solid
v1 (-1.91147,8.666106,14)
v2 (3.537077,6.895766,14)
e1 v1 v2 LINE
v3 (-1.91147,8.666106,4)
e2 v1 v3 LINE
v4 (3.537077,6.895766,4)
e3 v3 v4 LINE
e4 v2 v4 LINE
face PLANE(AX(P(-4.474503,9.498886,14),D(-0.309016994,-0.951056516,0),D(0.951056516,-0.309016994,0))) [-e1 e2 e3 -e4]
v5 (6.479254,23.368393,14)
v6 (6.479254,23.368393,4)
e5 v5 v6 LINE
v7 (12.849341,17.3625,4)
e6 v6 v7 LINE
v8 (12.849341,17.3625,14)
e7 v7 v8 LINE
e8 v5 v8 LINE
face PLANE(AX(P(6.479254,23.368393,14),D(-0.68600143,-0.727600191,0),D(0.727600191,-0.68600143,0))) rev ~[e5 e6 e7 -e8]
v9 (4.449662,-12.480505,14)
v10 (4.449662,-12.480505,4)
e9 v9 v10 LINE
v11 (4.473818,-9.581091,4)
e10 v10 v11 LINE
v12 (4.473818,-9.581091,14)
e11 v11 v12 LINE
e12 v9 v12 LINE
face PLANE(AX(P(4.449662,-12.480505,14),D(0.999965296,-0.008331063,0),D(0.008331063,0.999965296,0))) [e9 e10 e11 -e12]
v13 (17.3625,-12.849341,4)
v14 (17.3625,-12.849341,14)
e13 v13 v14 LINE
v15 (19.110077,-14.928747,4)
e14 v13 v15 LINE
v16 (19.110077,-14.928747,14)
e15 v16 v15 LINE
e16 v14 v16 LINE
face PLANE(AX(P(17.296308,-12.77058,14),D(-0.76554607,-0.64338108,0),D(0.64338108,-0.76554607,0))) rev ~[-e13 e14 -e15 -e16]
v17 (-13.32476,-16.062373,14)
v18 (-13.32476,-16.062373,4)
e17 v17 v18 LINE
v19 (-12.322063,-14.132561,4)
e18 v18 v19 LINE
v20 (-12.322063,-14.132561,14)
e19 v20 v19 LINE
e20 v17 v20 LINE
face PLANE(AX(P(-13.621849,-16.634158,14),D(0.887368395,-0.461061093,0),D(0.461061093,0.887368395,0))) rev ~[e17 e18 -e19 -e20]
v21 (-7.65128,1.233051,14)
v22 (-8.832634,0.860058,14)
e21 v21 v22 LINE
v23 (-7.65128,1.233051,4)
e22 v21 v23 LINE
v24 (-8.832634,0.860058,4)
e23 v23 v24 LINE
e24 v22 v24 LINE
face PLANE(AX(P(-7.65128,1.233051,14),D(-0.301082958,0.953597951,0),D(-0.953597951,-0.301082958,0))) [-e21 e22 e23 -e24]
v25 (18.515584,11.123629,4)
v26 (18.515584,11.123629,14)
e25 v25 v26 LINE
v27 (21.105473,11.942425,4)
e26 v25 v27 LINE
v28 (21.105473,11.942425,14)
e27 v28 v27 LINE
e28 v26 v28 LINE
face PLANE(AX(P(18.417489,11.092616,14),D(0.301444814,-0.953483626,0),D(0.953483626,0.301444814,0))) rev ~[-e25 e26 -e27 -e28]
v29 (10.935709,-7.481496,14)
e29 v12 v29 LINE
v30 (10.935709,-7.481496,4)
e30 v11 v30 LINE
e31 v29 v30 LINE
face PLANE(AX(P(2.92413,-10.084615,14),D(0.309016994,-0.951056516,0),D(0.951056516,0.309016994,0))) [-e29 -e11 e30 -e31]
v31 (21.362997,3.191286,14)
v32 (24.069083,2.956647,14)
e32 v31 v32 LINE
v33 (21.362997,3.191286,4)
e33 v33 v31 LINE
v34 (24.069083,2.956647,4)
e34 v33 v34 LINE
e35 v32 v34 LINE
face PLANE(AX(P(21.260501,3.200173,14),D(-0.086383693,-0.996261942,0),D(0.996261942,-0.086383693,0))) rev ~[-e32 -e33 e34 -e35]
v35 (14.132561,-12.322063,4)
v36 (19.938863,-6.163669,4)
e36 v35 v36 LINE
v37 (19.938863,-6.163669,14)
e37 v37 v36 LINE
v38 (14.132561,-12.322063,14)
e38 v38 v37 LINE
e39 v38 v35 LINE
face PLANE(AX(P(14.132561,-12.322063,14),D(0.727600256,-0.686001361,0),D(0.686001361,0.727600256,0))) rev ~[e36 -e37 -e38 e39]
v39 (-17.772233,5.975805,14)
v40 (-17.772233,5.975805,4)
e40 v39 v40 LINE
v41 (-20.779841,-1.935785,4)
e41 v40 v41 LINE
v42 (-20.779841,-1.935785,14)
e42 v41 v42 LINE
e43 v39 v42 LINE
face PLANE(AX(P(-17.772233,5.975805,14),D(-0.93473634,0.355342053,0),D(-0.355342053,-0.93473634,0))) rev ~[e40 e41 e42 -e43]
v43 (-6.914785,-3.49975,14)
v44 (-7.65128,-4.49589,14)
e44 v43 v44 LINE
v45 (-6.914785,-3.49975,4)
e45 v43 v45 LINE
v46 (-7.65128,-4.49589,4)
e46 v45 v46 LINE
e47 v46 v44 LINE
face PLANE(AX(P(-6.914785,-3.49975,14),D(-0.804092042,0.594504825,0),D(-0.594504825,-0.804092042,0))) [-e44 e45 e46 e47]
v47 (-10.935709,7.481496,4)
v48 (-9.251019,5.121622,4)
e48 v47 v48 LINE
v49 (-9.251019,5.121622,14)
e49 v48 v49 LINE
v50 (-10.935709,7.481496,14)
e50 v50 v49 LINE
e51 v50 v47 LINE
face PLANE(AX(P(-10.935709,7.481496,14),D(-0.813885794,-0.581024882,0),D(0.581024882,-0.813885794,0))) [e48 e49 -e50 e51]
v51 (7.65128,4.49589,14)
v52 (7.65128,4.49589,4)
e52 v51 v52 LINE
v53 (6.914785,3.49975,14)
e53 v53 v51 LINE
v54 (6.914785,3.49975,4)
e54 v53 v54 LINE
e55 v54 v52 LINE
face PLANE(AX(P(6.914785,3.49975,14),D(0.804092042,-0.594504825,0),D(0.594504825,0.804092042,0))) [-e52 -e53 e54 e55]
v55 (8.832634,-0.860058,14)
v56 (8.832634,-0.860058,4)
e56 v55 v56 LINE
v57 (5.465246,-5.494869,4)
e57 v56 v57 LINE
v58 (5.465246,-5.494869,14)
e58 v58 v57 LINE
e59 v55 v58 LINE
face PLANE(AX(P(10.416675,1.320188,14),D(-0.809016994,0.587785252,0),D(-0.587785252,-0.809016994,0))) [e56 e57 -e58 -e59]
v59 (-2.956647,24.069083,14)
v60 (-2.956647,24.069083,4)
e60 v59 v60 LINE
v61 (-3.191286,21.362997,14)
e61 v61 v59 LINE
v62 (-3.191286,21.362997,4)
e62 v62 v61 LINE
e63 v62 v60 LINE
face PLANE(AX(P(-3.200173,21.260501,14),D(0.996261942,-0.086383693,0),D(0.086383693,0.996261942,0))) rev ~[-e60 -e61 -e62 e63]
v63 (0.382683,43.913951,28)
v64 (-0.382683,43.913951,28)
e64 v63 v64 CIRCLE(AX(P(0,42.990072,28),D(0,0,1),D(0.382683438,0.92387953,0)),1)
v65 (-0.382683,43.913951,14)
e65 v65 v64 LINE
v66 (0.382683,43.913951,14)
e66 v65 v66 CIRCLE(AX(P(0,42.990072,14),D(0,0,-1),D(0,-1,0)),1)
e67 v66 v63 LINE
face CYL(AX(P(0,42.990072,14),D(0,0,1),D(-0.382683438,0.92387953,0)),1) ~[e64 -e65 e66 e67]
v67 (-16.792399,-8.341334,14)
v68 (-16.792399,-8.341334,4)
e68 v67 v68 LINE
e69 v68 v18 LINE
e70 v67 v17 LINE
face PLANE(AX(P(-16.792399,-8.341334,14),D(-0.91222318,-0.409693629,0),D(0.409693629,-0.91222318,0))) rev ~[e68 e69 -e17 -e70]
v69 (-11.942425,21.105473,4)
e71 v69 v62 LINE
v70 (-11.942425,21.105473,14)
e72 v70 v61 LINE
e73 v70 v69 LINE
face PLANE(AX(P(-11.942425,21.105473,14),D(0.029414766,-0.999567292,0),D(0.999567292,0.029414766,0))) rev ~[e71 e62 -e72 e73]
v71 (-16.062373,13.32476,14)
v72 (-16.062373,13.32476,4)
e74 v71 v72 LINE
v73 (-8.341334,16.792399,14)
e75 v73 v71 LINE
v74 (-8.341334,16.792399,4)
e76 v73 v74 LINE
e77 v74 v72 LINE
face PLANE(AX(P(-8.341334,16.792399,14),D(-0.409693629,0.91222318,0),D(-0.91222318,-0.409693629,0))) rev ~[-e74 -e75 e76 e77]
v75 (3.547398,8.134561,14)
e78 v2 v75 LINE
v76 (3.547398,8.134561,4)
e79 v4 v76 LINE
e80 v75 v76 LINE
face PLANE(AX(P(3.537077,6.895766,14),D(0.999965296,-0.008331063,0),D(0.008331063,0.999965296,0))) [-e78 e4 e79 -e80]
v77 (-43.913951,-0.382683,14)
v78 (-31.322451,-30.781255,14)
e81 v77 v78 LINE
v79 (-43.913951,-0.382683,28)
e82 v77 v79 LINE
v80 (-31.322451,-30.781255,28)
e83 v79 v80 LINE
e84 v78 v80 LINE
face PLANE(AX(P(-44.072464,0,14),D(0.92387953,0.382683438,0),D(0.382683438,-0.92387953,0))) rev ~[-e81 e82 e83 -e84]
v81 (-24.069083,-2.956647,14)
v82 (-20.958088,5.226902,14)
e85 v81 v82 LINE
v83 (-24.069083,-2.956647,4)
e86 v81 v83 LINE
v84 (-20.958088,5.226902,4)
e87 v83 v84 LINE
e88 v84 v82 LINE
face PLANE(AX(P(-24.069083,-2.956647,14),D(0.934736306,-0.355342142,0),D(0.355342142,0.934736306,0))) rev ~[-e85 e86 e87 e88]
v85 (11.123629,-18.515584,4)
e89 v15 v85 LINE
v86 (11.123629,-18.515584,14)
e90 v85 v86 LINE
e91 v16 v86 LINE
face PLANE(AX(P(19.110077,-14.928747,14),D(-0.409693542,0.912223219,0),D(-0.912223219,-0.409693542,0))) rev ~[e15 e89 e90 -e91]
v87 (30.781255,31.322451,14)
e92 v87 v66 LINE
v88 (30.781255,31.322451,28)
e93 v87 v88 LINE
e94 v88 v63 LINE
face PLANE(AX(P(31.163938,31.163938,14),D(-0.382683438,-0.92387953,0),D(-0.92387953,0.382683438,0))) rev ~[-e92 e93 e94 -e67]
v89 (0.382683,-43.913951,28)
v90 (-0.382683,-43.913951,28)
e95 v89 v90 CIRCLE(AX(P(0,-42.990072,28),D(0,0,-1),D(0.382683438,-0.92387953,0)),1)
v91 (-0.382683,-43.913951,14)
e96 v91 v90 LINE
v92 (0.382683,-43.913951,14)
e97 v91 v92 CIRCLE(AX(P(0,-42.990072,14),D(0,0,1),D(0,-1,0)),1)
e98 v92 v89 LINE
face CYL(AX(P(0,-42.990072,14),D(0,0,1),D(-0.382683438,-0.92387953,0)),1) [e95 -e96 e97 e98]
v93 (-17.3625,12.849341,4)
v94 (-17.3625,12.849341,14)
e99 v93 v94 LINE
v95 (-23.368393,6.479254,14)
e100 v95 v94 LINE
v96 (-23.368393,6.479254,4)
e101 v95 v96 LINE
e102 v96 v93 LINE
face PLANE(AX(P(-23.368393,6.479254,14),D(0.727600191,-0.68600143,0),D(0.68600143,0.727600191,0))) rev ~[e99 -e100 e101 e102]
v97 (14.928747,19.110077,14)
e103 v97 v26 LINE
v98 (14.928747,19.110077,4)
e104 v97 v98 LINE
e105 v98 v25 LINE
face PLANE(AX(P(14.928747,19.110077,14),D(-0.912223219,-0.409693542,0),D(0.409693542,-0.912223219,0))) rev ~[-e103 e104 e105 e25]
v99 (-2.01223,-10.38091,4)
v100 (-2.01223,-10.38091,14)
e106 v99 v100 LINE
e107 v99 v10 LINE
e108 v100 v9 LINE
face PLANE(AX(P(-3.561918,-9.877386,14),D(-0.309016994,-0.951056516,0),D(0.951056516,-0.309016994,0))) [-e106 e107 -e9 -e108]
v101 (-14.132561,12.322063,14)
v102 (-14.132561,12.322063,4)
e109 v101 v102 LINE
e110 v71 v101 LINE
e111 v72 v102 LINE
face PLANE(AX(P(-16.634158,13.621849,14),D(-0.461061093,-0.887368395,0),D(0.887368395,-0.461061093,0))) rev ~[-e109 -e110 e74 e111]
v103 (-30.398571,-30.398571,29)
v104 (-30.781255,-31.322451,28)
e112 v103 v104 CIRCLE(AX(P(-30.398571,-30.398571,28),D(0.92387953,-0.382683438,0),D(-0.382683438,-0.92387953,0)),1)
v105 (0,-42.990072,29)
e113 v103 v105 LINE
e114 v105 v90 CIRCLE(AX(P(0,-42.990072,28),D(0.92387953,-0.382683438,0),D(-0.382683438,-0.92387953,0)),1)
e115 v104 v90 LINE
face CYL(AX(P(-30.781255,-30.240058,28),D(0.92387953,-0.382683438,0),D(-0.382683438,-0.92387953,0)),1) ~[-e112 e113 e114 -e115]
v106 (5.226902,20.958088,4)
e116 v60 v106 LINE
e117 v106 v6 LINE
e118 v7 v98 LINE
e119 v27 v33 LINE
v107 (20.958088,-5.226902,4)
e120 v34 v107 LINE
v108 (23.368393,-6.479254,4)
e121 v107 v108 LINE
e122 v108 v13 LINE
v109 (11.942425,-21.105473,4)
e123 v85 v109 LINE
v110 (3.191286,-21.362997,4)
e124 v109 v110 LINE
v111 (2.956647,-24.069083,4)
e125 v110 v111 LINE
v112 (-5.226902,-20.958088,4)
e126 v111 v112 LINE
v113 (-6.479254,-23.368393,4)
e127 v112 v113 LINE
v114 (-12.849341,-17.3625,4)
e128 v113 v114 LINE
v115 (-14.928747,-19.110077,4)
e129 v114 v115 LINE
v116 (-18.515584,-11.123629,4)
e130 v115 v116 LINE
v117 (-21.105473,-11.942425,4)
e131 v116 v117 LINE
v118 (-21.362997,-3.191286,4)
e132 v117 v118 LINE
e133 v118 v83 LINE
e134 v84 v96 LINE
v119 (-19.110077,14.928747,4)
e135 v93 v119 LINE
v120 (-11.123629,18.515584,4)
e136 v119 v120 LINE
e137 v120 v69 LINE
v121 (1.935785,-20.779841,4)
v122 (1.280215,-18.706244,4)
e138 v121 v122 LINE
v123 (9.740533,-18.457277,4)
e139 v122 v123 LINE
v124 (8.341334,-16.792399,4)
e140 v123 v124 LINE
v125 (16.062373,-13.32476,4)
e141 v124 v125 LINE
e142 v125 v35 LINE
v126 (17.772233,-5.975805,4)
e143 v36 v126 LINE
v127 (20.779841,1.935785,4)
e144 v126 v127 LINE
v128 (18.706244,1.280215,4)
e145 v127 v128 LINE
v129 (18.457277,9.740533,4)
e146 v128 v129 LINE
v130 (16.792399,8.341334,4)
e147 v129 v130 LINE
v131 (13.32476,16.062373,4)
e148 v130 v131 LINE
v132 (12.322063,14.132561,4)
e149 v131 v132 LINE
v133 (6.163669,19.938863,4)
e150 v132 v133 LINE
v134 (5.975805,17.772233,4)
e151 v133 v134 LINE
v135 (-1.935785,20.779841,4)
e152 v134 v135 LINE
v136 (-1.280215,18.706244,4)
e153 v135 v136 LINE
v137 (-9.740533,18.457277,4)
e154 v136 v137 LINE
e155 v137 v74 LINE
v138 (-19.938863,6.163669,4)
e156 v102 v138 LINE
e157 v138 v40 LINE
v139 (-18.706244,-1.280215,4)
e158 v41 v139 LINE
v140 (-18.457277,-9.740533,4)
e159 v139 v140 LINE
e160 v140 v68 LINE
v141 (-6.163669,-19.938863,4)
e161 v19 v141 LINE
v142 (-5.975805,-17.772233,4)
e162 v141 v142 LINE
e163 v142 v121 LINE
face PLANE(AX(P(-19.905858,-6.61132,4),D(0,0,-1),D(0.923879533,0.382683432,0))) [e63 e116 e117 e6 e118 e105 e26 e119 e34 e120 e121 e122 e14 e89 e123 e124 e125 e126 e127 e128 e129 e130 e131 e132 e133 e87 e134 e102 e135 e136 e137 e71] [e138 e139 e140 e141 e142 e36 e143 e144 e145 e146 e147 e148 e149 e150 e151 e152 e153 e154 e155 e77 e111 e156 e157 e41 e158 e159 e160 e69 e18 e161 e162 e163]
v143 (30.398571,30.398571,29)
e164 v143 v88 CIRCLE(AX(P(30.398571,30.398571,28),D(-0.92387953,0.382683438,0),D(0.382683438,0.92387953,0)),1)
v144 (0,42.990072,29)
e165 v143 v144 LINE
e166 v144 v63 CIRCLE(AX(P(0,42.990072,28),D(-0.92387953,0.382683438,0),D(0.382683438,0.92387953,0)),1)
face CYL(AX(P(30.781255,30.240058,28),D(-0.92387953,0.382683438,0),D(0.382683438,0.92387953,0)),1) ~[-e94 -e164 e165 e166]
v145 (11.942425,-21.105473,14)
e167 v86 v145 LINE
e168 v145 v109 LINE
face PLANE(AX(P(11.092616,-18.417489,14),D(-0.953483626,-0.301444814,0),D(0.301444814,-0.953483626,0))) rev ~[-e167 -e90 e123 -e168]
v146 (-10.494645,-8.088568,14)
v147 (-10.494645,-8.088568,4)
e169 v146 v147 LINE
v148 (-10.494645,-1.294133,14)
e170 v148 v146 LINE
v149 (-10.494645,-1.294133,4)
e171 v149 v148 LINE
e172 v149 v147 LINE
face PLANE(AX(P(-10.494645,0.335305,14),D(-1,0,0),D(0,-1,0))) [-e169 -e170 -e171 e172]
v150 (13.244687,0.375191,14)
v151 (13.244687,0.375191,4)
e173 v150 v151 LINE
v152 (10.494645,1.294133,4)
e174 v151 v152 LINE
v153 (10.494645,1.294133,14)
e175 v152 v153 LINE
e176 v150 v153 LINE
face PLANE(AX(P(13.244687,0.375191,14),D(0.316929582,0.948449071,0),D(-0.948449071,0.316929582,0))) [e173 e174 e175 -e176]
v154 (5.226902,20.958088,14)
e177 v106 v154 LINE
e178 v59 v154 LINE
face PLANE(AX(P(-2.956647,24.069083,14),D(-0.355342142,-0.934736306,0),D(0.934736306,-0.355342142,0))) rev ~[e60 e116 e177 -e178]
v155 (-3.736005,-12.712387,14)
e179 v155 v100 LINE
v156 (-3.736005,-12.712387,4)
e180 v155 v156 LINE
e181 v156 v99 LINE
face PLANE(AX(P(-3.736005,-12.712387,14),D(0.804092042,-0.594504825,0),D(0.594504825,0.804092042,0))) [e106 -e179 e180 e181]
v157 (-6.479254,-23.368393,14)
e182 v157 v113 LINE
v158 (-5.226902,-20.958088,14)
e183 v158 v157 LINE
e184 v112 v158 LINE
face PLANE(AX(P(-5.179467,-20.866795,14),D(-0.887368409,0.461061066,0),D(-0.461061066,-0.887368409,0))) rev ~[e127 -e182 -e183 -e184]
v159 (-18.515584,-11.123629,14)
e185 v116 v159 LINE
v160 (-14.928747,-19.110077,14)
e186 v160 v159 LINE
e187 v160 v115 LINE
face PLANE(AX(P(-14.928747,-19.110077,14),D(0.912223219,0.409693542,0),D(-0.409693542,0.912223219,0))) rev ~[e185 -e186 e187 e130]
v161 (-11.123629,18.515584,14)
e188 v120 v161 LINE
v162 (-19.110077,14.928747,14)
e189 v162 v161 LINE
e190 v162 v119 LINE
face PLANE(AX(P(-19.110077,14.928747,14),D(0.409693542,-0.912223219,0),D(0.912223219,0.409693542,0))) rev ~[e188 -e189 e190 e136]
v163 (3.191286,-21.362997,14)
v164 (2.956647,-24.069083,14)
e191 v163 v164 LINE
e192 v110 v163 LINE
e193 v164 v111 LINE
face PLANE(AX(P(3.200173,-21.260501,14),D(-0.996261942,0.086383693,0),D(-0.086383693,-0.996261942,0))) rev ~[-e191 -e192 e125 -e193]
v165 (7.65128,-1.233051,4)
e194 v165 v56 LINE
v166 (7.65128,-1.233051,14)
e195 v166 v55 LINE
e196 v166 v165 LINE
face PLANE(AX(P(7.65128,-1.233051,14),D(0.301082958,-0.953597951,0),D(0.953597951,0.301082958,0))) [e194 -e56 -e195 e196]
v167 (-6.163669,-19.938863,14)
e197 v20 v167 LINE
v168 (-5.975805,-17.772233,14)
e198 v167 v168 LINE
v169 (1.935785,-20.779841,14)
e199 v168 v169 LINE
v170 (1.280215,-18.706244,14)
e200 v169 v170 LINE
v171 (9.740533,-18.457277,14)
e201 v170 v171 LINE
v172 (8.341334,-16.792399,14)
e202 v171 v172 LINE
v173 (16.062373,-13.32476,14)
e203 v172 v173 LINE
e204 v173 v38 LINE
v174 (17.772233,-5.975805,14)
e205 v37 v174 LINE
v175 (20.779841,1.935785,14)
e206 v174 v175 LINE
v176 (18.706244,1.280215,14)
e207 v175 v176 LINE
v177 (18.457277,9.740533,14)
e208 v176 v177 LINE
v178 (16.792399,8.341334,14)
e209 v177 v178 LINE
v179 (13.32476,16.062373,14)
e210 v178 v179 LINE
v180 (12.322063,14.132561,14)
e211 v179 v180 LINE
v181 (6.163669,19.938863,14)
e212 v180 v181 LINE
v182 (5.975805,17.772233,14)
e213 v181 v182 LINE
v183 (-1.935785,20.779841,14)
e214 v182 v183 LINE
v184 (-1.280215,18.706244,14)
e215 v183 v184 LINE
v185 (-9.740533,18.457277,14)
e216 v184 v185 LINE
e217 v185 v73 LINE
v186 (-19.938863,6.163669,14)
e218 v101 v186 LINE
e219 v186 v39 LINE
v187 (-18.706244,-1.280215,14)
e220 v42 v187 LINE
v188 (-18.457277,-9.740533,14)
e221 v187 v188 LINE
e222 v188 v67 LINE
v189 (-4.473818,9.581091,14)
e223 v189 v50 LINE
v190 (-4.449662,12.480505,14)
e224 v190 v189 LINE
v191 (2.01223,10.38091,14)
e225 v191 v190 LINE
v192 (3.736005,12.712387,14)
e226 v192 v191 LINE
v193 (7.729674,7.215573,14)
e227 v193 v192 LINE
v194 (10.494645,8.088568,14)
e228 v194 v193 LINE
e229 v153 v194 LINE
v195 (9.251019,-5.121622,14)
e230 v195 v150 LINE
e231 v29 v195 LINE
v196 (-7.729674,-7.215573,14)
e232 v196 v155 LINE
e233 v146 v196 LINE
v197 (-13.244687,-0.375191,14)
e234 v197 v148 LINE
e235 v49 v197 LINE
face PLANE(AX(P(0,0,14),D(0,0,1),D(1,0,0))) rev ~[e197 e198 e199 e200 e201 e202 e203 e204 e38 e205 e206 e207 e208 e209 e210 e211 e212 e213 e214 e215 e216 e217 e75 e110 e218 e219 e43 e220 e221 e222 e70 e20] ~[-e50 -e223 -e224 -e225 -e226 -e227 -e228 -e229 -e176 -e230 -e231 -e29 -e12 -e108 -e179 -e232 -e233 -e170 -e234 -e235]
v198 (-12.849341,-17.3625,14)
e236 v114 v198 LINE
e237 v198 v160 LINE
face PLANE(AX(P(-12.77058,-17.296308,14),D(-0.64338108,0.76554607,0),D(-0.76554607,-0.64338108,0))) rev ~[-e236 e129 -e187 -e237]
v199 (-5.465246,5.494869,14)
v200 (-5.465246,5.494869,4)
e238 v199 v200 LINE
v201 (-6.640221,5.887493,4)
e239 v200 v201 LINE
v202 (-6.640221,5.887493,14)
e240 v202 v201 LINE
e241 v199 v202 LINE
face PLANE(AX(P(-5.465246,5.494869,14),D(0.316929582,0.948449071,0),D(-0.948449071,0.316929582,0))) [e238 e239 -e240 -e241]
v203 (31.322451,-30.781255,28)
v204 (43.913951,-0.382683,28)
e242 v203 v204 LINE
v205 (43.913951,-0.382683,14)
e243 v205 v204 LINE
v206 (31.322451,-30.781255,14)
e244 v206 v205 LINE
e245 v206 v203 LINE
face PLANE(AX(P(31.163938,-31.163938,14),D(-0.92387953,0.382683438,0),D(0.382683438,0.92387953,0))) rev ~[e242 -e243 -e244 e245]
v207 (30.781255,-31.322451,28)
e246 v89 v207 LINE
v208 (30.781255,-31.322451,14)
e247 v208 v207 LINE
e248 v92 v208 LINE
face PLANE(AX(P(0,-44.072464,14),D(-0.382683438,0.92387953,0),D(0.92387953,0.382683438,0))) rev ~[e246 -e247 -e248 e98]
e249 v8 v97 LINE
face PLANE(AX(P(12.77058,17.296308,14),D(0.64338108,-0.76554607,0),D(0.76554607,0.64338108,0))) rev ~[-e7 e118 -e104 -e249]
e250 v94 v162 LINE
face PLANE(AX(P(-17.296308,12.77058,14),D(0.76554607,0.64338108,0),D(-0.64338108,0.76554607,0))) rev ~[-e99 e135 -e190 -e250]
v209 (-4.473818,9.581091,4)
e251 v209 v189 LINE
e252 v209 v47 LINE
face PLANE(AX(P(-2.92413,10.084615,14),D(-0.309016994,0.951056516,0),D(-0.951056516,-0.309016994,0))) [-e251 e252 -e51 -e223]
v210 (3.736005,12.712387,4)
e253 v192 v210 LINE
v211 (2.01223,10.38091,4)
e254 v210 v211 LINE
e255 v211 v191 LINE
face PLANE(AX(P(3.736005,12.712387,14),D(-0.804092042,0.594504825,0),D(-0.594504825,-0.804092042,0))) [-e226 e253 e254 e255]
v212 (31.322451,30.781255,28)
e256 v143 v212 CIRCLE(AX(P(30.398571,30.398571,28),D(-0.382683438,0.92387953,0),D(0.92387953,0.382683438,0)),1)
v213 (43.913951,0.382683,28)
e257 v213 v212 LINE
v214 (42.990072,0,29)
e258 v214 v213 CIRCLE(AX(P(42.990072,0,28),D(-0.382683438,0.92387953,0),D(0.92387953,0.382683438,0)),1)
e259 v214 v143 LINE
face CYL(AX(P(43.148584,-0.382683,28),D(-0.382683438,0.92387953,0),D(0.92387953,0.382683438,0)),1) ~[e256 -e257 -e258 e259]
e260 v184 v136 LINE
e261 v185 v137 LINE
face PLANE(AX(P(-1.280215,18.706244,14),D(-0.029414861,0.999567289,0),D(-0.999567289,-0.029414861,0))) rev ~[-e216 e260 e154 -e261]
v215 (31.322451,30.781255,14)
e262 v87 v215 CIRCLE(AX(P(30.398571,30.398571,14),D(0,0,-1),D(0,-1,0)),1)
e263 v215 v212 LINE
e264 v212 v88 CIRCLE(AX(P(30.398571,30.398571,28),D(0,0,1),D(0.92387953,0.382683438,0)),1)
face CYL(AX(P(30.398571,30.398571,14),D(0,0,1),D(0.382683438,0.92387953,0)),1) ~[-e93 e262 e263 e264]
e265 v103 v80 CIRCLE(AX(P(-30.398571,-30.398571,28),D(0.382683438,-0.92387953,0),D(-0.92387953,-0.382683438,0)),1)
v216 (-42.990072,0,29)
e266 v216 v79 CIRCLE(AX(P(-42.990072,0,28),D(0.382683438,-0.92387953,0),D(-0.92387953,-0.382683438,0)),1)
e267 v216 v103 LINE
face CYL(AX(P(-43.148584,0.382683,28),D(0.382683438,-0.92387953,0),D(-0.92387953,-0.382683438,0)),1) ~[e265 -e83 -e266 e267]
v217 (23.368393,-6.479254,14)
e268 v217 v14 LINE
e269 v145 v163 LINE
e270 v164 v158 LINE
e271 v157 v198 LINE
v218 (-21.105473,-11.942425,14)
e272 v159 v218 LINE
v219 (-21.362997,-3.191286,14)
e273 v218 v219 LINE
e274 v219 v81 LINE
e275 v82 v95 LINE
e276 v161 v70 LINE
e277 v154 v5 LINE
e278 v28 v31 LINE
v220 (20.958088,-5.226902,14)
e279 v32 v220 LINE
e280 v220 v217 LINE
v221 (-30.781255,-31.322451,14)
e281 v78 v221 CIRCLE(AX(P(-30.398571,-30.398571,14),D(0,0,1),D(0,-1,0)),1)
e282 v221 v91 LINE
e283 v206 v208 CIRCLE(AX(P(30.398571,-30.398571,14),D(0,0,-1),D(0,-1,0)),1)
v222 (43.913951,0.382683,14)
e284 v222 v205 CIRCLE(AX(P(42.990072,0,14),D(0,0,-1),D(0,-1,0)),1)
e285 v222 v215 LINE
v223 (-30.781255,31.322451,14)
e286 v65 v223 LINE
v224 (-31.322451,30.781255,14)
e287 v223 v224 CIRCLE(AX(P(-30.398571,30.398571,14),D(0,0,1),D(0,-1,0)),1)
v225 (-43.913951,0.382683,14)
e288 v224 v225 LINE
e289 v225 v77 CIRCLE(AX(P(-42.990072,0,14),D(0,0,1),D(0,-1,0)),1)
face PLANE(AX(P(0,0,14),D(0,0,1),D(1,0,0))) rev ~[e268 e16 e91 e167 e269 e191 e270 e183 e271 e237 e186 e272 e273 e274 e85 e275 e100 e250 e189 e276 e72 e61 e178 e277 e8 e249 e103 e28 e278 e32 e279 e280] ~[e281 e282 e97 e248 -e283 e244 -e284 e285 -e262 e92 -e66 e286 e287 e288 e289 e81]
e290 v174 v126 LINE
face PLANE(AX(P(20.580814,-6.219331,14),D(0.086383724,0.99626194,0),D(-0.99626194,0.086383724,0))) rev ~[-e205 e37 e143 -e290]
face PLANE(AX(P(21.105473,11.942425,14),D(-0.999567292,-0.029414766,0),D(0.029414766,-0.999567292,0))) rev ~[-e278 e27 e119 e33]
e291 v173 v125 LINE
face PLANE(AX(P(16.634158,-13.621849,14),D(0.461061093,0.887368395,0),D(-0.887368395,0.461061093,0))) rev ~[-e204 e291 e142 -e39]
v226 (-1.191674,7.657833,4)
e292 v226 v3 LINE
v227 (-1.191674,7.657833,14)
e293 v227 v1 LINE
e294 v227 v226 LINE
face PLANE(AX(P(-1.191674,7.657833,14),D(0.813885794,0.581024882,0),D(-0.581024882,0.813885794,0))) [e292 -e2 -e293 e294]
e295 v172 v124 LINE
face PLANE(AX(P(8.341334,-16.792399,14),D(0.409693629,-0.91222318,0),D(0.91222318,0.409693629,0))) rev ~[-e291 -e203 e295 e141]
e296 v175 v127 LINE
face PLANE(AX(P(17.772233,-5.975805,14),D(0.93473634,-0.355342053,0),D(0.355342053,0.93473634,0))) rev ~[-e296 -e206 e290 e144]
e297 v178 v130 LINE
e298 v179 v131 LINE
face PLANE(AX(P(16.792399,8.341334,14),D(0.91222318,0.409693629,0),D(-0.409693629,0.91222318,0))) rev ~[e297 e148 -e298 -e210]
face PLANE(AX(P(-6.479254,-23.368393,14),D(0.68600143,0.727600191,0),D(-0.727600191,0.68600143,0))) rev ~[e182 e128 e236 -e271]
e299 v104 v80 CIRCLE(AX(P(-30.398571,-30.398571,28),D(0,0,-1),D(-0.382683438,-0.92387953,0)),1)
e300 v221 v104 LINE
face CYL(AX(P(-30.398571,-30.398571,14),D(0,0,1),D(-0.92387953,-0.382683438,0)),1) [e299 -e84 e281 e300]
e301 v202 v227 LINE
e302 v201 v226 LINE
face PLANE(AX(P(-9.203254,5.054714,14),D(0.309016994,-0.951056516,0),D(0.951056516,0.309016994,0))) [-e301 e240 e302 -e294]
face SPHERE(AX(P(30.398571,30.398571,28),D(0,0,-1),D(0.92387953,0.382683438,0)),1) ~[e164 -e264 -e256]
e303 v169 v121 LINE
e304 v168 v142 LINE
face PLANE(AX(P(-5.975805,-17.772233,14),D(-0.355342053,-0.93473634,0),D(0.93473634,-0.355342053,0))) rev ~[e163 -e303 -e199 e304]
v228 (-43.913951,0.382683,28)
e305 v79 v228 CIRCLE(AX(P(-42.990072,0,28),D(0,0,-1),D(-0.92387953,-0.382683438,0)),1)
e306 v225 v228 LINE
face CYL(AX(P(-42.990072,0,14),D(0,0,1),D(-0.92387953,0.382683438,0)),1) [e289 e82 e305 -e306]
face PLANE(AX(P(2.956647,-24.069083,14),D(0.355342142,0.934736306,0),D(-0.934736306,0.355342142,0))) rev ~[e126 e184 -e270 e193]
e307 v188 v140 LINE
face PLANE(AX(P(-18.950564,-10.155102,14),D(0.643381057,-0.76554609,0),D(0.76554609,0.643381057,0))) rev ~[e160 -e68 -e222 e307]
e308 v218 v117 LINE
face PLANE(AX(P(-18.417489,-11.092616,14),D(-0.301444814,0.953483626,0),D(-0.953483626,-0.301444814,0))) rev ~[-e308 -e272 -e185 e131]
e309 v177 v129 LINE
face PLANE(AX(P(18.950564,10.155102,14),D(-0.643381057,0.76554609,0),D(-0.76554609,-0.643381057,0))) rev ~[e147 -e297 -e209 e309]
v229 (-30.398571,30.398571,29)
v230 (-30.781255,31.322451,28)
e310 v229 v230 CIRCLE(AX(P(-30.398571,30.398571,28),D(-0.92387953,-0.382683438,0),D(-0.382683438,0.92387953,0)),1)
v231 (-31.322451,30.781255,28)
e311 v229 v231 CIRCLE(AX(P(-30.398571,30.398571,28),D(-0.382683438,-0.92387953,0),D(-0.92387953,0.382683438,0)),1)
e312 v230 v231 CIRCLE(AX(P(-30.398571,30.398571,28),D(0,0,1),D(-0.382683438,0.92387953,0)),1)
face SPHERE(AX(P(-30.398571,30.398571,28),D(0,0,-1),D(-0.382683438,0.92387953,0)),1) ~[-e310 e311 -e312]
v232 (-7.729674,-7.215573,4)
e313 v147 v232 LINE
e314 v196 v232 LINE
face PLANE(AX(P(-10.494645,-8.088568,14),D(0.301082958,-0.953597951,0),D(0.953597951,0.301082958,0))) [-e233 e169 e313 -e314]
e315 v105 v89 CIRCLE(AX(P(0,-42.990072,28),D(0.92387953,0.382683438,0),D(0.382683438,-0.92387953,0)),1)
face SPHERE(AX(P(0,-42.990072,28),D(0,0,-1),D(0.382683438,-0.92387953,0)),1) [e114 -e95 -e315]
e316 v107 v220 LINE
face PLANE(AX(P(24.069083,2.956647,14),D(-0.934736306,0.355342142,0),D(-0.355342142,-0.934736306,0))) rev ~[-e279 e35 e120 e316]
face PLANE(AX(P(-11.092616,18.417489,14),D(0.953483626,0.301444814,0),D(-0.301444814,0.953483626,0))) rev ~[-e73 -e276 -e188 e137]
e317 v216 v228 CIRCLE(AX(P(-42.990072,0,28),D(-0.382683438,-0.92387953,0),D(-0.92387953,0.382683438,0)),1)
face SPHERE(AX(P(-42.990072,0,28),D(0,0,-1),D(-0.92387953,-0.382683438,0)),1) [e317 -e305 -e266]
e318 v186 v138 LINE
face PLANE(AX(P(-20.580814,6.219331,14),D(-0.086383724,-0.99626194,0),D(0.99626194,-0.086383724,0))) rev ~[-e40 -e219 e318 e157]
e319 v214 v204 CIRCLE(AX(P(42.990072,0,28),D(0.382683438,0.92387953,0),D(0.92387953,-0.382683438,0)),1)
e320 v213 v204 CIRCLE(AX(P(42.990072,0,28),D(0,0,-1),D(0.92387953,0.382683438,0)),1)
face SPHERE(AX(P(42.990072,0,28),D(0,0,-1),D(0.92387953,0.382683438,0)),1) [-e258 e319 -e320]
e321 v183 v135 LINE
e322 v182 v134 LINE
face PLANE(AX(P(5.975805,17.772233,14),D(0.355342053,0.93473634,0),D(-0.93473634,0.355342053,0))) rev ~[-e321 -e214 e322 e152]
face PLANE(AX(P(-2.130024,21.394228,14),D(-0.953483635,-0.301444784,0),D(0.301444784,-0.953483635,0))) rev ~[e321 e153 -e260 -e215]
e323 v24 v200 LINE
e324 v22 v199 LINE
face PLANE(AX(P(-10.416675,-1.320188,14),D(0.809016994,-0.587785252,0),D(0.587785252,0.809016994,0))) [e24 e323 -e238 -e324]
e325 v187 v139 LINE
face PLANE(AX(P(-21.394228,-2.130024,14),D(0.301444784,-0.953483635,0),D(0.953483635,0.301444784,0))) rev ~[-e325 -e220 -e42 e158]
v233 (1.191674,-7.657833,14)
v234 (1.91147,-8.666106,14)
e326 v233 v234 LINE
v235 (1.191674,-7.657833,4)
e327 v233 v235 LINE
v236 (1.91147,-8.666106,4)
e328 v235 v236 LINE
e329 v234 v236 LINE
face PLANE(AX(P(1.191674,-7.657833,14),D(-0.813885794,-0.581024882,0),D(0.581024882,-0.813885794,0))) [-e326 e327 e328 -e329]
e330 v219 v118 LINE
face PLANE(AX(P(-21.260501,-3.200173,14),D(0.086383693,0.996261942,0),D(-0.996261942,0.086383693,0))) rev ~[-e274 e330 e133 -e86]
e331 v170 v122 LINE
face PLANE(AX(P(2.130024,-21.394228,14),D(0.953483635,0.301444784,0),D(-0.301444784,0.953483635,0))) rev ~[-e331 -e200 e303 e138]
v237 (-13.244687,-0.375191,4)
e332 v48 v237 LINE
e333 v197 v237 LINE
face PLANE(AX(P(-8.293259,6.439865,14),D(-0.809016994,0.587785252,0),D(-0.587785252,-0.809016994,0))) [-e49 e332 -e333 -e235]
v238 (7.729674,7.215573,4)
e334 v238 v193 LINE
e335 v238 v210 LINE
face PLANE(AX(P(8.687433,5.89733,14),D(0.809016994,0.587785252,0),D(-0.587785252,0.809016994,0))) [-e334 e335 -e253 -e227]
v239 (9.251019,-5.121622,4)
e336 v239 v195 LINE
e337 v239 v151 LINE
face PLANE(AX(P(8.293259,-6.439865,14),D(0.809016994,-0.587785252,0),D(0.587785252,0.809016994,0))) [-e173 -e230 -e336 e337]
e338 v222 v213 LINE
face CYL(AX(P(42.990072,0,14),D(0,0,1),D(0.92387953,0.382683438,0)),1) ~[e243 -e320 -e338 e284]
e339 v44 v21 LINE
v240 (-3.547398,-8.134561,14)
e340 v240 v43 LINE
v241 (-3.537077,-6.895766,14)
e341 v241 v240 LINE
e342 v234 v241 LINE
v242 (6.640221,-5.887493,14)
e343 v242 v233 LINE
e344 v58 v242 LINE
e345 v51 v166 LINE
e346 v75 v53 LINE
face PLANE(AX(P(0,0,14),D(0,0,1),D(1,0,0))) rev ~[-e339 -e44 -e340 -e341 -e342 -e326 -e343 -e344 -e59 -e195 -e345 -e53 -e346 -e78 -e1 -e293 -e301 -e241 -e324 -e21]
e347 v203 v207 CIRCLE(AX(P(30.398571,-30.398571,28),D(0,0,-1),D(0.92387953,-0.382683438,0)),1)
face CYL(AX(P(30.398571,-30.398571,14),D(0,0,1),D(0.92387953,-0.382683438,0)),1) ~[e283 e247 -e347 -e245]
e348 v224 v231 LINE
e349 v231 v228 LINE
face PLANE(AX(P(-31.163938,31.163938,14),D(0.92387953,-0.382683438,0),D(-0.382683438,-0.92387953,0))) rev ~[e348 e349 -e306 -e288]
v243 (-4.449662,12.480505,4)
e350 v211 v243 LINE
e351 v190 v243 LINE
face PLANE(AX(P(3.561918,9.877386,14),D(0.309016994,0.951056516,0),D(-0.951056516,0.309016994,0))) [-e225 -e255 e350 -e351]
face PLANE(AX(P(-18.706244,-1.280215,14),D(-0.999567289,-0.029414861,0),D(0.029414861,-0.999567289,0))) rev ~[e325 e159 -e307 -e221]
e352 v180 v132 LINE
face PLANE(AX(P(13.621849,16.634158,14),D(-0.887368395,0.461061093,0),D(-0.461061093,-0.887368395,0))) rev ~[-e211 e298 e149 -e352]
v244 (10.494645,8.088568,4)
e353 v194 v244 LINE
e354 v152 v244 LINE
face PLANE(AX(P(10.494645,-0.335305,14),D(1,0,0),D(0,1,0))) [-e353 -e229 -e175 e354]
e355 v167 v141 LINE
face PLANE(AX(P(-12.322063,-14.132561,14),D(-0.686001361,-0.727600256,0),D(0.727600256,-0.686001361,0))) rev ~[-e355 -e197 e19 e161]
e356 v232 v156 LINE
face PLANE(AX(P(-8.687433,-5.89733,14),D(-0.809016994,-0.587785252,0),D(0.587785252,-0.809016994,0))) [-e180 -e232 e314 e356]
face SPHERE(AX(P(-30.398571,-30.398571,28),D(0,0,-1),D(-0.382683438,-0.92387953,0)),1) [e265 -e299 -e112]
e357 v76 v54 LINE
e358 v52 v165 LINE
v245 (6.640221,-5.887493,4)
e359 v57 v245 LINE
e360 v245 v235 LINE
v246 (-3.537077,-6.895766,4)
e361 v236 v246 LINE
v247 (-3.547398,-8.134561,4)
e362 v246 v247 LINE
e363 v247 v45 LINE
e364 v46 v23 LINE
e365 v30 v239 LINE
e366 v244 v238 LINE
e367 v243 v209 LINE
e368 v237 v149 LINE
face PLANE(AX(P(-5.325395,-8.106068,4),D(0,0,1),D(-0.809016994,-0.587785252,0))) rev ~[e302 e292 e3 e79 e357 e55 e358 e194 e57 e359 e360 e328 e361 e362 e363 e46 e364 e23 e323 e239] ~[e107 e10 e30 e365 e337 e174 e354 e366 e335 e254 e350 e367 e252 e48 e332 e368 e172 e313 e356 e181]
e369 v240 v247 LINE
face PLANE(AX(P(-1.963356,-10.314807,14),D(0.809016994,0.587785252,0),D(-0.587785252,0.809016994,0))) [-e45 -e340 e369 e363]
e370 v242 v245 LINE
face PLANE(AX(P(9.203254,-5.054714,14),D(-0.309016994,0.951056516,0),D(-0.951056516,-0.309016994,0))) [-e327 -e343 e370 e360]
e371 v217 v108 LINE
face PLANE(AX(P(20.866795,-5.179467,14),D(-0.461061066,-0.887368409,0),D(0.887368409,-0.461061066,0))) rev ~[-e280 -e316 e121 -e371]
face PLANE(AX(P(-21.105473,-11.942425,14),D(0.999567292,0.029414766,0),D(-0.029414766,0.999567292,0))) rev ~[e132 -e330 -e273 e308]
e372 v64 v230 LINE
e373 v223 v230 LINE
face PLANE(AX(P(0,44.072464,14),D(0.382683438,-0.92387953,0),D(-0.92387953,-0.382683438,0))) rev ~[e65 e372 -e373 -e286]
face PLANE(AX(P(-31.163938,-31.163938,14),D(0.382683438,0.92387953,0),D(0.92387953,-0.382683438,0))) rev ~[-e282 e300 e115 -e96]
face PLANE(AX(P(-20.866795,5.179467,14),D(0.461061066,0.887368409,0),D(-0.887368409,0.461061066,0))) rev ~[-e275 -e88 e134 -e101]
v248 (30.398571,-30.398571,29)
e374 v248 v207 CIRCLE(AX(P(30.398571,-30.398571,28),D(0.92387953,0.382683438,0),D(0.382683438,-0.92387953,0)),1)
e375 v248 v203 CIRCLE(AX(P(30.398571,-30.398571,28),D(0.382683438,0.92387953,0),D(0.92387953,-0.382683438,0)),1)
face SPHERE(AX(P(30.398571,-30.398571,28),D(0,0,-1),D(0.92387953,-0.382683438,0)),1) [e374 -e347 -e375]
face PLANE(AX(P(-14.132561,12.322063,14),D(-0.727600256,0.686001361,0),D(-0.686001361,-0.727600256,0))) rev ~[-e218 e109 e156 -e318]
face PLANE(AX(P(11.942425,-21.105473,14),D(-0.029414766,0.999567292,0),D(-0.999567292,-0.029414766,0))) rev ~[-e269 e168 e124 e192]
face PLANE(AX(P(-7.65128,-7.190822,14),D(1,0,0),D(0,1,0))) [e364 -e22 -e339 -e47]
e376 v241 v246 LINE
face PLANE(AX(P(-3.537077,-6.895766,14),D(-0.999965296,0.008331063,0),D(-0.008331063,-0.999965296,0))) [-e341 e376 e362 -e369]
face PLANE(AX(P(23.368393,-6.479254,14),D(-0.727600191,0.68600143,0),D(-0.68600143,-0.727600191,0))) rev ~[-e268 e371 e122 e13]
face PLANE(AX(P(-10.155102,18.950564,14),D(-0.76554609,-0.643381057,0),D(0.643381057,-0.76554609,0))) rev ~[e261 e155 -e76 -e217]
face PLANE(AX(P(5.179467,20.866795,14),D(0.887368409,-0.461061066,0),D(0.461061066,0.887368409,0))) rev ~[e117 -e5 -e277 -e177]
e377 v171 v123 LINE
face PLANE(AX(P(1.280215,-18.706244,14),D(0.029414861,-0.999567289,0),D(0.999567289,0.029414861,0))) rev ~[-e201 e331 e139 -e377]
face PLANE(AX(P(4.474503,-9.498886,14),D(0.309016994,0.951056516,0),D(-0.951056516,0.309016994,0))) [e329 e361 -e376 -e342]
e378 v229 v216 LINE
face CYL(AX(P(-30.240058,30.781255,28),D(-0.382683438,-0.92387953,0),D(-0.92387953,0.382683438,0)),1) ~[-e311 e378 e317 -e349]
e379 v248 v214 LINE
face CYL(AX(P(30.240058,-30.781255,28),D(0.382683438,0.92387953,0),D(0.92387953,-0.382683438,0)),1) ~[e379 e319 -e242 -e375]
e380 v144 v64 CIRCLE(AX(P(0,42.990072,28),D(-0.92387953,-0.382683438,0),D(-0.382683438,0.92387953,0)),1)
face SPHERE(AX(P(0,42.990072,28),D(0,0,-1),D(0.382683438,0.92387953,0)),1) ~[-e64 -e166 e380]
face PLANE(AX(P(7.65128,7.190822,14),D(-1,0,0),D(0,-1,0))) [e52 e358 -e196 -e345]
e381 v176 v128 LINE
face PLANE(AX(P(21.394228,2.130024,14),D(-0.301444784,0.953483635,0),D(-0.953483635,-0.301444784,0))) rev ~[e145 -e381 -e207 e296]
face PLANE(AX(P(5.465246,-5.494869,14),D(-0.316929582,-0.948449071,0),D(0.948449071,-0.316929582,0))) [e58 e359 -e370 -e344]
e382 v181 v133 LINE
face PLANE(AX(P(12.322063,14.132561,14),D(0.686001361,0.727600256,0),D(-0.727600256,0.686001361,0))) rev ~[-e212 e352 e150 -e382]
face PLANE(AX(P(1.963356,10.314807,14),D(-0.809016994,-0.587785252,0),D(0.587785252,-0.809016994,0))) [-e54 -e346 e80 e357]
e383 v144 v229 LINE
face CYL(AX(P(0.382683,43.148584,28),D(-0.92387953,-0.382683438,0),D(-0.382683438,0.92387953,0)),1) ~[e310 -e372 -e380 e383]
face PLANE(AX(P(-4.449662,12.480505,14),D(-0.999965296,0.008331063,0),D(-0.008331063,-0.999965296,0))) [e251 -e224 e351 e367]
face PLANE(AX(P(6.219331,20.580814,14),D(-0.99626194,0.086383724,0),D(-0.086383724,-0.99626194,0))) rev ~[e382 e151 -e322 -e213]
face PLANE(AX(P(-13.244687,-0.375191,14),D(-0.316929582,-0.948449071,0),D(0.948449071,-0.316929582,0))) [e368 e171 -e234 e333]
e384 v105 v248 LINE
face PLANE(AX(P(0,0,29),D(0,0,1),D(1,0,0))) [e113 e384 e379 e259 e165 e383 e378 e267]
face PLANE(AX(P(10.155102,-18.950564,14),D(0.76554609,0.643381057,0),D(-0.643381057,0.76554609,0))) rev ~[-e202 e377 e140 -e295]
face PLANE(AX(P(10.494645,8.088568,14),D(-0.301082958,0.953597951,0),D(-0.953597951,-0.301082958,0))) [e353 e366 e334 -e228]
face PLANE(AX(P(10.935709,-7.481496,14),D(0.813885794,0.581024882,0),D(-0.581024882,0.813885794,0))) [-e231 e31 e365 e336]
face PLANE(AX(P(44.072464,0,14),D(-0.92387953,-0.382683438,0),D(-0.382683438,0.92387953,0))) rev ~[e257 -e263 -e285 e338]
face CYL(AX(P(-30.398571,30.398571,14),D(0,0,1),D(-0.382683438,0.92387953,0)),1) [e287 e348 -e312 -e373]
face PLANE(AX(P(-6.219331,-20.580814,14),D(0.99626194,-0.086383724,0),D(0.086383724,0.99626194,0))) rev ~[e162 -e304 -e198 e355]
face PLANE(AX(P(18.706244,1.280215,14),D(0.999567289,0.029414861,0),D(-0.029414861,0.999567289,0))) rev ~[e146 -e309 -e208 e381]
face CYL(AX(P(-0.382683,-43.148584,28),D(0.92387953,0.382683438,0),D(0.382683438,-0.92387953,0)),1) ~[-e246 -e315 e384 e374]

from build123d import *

# Parameters (mm, degrees)
PAD003_DEPTH          = 15
PAD007_DEPTH          = 10
POLARPATTERN006_COUNT = 10
PAD008_DEPTH          = 10
POLARPATTERN007_COUNT = 16
FILLET001_R           = 1


with BuildPart() as part:
    # Sketch007 → Pad003 (new body)
    with BuildSketch(Plane.XY.offset(14)):
        Polygon((0, 44.072464), (-31.163938, 31.163938), (-44.072464, 0), (-31.163938, -31.163938), (0, -44.072464), (31.163938, -31.163938), (44.072464, 0), (31.163938, 31.163938), align=None)
    extrude(amount=PAD003_DEPTH)

    # Sketch015 (on Face9 of Pad003) → Pad007 (join)
    with BuildSketch(Plane(origin=(0, 0, 14), x_dir=(1, 0, 0), z_dir=(0, 0, -1))):
        Polygon((-10.494645, 8.088568), (-7.65128, 7.190822), (-7.65128, -1.233051), (-10.494645, -0.335305), align=None)
    pad007 = extrude(amount=PAD007_DEPTH)

    # PolarPattern006: Pad007 ×10 about axis
    polarpattern006_axis = Axis((0, 0, 14), (0, 0, -1))
    for i in range(1, POLARPATTERN006_COUNT):
        add(pad007.rotate(polarpattern006_axis, i * 360 / POLARPATTERN006_COUNT))

    # Sketch016 (on Face4 of PolarPattern006) → Pad008 (join)
    with BuildSketch(Plane(origin=(0, 0, 14), x_dir=(1, 0, 0), z_dir=(0, 0, -1))):
        Polygon((-24.069083, 2.956647), (-20.580814, -6.219331), (-17.772233, -5.975805), (-21.260501, 3.200173), align=None)
    pad008 = extrude(amount=PAD008_DEPTH)

    # PolarPattern007: Pad008 ×16 about axis
    polarpattern007_axis = Axis((0, 0, 14), (0, 0, -1))
    for i in range(1, POLARPATTERN007_COUNT):
        add(pad008.rotate(polarpattern007_axis, i * 360 / POLARPATTERN007_COUNT))

    # Fillet001
    fillet001_edges = [part.edges().sort_by_distance(p)[0] for p in [
        (-37.618201, 15.581969, 29),
        (-31.163938, 31.163938, 21.5),
        (-44.072464, 0, 21.5),
        (-37.618201, -15.581969, 29),
        (-31.163938, -31.163938, 21.5),
        (-15.581969, -37.618201, 29),
        (-15.581969, 37.618201, 29),
        (0, 44.072464, 21.5),
        (15.581969, 37.618201, 29),
        (0, -44.072464, 21.5),
        (15.581969, -37.618201, 29),
        (31.163938, -31.163938, 21.5),
        (37.618201, -15.581969, 29),
        (44.072464, 0, 21.5),
        (31.163938, 31.163938, 21.5),
        (37.618201, 15.581969, 29),
    ]]
    fillet(fillet001_edges, radius=FILLET001_R)


solid = part.part
